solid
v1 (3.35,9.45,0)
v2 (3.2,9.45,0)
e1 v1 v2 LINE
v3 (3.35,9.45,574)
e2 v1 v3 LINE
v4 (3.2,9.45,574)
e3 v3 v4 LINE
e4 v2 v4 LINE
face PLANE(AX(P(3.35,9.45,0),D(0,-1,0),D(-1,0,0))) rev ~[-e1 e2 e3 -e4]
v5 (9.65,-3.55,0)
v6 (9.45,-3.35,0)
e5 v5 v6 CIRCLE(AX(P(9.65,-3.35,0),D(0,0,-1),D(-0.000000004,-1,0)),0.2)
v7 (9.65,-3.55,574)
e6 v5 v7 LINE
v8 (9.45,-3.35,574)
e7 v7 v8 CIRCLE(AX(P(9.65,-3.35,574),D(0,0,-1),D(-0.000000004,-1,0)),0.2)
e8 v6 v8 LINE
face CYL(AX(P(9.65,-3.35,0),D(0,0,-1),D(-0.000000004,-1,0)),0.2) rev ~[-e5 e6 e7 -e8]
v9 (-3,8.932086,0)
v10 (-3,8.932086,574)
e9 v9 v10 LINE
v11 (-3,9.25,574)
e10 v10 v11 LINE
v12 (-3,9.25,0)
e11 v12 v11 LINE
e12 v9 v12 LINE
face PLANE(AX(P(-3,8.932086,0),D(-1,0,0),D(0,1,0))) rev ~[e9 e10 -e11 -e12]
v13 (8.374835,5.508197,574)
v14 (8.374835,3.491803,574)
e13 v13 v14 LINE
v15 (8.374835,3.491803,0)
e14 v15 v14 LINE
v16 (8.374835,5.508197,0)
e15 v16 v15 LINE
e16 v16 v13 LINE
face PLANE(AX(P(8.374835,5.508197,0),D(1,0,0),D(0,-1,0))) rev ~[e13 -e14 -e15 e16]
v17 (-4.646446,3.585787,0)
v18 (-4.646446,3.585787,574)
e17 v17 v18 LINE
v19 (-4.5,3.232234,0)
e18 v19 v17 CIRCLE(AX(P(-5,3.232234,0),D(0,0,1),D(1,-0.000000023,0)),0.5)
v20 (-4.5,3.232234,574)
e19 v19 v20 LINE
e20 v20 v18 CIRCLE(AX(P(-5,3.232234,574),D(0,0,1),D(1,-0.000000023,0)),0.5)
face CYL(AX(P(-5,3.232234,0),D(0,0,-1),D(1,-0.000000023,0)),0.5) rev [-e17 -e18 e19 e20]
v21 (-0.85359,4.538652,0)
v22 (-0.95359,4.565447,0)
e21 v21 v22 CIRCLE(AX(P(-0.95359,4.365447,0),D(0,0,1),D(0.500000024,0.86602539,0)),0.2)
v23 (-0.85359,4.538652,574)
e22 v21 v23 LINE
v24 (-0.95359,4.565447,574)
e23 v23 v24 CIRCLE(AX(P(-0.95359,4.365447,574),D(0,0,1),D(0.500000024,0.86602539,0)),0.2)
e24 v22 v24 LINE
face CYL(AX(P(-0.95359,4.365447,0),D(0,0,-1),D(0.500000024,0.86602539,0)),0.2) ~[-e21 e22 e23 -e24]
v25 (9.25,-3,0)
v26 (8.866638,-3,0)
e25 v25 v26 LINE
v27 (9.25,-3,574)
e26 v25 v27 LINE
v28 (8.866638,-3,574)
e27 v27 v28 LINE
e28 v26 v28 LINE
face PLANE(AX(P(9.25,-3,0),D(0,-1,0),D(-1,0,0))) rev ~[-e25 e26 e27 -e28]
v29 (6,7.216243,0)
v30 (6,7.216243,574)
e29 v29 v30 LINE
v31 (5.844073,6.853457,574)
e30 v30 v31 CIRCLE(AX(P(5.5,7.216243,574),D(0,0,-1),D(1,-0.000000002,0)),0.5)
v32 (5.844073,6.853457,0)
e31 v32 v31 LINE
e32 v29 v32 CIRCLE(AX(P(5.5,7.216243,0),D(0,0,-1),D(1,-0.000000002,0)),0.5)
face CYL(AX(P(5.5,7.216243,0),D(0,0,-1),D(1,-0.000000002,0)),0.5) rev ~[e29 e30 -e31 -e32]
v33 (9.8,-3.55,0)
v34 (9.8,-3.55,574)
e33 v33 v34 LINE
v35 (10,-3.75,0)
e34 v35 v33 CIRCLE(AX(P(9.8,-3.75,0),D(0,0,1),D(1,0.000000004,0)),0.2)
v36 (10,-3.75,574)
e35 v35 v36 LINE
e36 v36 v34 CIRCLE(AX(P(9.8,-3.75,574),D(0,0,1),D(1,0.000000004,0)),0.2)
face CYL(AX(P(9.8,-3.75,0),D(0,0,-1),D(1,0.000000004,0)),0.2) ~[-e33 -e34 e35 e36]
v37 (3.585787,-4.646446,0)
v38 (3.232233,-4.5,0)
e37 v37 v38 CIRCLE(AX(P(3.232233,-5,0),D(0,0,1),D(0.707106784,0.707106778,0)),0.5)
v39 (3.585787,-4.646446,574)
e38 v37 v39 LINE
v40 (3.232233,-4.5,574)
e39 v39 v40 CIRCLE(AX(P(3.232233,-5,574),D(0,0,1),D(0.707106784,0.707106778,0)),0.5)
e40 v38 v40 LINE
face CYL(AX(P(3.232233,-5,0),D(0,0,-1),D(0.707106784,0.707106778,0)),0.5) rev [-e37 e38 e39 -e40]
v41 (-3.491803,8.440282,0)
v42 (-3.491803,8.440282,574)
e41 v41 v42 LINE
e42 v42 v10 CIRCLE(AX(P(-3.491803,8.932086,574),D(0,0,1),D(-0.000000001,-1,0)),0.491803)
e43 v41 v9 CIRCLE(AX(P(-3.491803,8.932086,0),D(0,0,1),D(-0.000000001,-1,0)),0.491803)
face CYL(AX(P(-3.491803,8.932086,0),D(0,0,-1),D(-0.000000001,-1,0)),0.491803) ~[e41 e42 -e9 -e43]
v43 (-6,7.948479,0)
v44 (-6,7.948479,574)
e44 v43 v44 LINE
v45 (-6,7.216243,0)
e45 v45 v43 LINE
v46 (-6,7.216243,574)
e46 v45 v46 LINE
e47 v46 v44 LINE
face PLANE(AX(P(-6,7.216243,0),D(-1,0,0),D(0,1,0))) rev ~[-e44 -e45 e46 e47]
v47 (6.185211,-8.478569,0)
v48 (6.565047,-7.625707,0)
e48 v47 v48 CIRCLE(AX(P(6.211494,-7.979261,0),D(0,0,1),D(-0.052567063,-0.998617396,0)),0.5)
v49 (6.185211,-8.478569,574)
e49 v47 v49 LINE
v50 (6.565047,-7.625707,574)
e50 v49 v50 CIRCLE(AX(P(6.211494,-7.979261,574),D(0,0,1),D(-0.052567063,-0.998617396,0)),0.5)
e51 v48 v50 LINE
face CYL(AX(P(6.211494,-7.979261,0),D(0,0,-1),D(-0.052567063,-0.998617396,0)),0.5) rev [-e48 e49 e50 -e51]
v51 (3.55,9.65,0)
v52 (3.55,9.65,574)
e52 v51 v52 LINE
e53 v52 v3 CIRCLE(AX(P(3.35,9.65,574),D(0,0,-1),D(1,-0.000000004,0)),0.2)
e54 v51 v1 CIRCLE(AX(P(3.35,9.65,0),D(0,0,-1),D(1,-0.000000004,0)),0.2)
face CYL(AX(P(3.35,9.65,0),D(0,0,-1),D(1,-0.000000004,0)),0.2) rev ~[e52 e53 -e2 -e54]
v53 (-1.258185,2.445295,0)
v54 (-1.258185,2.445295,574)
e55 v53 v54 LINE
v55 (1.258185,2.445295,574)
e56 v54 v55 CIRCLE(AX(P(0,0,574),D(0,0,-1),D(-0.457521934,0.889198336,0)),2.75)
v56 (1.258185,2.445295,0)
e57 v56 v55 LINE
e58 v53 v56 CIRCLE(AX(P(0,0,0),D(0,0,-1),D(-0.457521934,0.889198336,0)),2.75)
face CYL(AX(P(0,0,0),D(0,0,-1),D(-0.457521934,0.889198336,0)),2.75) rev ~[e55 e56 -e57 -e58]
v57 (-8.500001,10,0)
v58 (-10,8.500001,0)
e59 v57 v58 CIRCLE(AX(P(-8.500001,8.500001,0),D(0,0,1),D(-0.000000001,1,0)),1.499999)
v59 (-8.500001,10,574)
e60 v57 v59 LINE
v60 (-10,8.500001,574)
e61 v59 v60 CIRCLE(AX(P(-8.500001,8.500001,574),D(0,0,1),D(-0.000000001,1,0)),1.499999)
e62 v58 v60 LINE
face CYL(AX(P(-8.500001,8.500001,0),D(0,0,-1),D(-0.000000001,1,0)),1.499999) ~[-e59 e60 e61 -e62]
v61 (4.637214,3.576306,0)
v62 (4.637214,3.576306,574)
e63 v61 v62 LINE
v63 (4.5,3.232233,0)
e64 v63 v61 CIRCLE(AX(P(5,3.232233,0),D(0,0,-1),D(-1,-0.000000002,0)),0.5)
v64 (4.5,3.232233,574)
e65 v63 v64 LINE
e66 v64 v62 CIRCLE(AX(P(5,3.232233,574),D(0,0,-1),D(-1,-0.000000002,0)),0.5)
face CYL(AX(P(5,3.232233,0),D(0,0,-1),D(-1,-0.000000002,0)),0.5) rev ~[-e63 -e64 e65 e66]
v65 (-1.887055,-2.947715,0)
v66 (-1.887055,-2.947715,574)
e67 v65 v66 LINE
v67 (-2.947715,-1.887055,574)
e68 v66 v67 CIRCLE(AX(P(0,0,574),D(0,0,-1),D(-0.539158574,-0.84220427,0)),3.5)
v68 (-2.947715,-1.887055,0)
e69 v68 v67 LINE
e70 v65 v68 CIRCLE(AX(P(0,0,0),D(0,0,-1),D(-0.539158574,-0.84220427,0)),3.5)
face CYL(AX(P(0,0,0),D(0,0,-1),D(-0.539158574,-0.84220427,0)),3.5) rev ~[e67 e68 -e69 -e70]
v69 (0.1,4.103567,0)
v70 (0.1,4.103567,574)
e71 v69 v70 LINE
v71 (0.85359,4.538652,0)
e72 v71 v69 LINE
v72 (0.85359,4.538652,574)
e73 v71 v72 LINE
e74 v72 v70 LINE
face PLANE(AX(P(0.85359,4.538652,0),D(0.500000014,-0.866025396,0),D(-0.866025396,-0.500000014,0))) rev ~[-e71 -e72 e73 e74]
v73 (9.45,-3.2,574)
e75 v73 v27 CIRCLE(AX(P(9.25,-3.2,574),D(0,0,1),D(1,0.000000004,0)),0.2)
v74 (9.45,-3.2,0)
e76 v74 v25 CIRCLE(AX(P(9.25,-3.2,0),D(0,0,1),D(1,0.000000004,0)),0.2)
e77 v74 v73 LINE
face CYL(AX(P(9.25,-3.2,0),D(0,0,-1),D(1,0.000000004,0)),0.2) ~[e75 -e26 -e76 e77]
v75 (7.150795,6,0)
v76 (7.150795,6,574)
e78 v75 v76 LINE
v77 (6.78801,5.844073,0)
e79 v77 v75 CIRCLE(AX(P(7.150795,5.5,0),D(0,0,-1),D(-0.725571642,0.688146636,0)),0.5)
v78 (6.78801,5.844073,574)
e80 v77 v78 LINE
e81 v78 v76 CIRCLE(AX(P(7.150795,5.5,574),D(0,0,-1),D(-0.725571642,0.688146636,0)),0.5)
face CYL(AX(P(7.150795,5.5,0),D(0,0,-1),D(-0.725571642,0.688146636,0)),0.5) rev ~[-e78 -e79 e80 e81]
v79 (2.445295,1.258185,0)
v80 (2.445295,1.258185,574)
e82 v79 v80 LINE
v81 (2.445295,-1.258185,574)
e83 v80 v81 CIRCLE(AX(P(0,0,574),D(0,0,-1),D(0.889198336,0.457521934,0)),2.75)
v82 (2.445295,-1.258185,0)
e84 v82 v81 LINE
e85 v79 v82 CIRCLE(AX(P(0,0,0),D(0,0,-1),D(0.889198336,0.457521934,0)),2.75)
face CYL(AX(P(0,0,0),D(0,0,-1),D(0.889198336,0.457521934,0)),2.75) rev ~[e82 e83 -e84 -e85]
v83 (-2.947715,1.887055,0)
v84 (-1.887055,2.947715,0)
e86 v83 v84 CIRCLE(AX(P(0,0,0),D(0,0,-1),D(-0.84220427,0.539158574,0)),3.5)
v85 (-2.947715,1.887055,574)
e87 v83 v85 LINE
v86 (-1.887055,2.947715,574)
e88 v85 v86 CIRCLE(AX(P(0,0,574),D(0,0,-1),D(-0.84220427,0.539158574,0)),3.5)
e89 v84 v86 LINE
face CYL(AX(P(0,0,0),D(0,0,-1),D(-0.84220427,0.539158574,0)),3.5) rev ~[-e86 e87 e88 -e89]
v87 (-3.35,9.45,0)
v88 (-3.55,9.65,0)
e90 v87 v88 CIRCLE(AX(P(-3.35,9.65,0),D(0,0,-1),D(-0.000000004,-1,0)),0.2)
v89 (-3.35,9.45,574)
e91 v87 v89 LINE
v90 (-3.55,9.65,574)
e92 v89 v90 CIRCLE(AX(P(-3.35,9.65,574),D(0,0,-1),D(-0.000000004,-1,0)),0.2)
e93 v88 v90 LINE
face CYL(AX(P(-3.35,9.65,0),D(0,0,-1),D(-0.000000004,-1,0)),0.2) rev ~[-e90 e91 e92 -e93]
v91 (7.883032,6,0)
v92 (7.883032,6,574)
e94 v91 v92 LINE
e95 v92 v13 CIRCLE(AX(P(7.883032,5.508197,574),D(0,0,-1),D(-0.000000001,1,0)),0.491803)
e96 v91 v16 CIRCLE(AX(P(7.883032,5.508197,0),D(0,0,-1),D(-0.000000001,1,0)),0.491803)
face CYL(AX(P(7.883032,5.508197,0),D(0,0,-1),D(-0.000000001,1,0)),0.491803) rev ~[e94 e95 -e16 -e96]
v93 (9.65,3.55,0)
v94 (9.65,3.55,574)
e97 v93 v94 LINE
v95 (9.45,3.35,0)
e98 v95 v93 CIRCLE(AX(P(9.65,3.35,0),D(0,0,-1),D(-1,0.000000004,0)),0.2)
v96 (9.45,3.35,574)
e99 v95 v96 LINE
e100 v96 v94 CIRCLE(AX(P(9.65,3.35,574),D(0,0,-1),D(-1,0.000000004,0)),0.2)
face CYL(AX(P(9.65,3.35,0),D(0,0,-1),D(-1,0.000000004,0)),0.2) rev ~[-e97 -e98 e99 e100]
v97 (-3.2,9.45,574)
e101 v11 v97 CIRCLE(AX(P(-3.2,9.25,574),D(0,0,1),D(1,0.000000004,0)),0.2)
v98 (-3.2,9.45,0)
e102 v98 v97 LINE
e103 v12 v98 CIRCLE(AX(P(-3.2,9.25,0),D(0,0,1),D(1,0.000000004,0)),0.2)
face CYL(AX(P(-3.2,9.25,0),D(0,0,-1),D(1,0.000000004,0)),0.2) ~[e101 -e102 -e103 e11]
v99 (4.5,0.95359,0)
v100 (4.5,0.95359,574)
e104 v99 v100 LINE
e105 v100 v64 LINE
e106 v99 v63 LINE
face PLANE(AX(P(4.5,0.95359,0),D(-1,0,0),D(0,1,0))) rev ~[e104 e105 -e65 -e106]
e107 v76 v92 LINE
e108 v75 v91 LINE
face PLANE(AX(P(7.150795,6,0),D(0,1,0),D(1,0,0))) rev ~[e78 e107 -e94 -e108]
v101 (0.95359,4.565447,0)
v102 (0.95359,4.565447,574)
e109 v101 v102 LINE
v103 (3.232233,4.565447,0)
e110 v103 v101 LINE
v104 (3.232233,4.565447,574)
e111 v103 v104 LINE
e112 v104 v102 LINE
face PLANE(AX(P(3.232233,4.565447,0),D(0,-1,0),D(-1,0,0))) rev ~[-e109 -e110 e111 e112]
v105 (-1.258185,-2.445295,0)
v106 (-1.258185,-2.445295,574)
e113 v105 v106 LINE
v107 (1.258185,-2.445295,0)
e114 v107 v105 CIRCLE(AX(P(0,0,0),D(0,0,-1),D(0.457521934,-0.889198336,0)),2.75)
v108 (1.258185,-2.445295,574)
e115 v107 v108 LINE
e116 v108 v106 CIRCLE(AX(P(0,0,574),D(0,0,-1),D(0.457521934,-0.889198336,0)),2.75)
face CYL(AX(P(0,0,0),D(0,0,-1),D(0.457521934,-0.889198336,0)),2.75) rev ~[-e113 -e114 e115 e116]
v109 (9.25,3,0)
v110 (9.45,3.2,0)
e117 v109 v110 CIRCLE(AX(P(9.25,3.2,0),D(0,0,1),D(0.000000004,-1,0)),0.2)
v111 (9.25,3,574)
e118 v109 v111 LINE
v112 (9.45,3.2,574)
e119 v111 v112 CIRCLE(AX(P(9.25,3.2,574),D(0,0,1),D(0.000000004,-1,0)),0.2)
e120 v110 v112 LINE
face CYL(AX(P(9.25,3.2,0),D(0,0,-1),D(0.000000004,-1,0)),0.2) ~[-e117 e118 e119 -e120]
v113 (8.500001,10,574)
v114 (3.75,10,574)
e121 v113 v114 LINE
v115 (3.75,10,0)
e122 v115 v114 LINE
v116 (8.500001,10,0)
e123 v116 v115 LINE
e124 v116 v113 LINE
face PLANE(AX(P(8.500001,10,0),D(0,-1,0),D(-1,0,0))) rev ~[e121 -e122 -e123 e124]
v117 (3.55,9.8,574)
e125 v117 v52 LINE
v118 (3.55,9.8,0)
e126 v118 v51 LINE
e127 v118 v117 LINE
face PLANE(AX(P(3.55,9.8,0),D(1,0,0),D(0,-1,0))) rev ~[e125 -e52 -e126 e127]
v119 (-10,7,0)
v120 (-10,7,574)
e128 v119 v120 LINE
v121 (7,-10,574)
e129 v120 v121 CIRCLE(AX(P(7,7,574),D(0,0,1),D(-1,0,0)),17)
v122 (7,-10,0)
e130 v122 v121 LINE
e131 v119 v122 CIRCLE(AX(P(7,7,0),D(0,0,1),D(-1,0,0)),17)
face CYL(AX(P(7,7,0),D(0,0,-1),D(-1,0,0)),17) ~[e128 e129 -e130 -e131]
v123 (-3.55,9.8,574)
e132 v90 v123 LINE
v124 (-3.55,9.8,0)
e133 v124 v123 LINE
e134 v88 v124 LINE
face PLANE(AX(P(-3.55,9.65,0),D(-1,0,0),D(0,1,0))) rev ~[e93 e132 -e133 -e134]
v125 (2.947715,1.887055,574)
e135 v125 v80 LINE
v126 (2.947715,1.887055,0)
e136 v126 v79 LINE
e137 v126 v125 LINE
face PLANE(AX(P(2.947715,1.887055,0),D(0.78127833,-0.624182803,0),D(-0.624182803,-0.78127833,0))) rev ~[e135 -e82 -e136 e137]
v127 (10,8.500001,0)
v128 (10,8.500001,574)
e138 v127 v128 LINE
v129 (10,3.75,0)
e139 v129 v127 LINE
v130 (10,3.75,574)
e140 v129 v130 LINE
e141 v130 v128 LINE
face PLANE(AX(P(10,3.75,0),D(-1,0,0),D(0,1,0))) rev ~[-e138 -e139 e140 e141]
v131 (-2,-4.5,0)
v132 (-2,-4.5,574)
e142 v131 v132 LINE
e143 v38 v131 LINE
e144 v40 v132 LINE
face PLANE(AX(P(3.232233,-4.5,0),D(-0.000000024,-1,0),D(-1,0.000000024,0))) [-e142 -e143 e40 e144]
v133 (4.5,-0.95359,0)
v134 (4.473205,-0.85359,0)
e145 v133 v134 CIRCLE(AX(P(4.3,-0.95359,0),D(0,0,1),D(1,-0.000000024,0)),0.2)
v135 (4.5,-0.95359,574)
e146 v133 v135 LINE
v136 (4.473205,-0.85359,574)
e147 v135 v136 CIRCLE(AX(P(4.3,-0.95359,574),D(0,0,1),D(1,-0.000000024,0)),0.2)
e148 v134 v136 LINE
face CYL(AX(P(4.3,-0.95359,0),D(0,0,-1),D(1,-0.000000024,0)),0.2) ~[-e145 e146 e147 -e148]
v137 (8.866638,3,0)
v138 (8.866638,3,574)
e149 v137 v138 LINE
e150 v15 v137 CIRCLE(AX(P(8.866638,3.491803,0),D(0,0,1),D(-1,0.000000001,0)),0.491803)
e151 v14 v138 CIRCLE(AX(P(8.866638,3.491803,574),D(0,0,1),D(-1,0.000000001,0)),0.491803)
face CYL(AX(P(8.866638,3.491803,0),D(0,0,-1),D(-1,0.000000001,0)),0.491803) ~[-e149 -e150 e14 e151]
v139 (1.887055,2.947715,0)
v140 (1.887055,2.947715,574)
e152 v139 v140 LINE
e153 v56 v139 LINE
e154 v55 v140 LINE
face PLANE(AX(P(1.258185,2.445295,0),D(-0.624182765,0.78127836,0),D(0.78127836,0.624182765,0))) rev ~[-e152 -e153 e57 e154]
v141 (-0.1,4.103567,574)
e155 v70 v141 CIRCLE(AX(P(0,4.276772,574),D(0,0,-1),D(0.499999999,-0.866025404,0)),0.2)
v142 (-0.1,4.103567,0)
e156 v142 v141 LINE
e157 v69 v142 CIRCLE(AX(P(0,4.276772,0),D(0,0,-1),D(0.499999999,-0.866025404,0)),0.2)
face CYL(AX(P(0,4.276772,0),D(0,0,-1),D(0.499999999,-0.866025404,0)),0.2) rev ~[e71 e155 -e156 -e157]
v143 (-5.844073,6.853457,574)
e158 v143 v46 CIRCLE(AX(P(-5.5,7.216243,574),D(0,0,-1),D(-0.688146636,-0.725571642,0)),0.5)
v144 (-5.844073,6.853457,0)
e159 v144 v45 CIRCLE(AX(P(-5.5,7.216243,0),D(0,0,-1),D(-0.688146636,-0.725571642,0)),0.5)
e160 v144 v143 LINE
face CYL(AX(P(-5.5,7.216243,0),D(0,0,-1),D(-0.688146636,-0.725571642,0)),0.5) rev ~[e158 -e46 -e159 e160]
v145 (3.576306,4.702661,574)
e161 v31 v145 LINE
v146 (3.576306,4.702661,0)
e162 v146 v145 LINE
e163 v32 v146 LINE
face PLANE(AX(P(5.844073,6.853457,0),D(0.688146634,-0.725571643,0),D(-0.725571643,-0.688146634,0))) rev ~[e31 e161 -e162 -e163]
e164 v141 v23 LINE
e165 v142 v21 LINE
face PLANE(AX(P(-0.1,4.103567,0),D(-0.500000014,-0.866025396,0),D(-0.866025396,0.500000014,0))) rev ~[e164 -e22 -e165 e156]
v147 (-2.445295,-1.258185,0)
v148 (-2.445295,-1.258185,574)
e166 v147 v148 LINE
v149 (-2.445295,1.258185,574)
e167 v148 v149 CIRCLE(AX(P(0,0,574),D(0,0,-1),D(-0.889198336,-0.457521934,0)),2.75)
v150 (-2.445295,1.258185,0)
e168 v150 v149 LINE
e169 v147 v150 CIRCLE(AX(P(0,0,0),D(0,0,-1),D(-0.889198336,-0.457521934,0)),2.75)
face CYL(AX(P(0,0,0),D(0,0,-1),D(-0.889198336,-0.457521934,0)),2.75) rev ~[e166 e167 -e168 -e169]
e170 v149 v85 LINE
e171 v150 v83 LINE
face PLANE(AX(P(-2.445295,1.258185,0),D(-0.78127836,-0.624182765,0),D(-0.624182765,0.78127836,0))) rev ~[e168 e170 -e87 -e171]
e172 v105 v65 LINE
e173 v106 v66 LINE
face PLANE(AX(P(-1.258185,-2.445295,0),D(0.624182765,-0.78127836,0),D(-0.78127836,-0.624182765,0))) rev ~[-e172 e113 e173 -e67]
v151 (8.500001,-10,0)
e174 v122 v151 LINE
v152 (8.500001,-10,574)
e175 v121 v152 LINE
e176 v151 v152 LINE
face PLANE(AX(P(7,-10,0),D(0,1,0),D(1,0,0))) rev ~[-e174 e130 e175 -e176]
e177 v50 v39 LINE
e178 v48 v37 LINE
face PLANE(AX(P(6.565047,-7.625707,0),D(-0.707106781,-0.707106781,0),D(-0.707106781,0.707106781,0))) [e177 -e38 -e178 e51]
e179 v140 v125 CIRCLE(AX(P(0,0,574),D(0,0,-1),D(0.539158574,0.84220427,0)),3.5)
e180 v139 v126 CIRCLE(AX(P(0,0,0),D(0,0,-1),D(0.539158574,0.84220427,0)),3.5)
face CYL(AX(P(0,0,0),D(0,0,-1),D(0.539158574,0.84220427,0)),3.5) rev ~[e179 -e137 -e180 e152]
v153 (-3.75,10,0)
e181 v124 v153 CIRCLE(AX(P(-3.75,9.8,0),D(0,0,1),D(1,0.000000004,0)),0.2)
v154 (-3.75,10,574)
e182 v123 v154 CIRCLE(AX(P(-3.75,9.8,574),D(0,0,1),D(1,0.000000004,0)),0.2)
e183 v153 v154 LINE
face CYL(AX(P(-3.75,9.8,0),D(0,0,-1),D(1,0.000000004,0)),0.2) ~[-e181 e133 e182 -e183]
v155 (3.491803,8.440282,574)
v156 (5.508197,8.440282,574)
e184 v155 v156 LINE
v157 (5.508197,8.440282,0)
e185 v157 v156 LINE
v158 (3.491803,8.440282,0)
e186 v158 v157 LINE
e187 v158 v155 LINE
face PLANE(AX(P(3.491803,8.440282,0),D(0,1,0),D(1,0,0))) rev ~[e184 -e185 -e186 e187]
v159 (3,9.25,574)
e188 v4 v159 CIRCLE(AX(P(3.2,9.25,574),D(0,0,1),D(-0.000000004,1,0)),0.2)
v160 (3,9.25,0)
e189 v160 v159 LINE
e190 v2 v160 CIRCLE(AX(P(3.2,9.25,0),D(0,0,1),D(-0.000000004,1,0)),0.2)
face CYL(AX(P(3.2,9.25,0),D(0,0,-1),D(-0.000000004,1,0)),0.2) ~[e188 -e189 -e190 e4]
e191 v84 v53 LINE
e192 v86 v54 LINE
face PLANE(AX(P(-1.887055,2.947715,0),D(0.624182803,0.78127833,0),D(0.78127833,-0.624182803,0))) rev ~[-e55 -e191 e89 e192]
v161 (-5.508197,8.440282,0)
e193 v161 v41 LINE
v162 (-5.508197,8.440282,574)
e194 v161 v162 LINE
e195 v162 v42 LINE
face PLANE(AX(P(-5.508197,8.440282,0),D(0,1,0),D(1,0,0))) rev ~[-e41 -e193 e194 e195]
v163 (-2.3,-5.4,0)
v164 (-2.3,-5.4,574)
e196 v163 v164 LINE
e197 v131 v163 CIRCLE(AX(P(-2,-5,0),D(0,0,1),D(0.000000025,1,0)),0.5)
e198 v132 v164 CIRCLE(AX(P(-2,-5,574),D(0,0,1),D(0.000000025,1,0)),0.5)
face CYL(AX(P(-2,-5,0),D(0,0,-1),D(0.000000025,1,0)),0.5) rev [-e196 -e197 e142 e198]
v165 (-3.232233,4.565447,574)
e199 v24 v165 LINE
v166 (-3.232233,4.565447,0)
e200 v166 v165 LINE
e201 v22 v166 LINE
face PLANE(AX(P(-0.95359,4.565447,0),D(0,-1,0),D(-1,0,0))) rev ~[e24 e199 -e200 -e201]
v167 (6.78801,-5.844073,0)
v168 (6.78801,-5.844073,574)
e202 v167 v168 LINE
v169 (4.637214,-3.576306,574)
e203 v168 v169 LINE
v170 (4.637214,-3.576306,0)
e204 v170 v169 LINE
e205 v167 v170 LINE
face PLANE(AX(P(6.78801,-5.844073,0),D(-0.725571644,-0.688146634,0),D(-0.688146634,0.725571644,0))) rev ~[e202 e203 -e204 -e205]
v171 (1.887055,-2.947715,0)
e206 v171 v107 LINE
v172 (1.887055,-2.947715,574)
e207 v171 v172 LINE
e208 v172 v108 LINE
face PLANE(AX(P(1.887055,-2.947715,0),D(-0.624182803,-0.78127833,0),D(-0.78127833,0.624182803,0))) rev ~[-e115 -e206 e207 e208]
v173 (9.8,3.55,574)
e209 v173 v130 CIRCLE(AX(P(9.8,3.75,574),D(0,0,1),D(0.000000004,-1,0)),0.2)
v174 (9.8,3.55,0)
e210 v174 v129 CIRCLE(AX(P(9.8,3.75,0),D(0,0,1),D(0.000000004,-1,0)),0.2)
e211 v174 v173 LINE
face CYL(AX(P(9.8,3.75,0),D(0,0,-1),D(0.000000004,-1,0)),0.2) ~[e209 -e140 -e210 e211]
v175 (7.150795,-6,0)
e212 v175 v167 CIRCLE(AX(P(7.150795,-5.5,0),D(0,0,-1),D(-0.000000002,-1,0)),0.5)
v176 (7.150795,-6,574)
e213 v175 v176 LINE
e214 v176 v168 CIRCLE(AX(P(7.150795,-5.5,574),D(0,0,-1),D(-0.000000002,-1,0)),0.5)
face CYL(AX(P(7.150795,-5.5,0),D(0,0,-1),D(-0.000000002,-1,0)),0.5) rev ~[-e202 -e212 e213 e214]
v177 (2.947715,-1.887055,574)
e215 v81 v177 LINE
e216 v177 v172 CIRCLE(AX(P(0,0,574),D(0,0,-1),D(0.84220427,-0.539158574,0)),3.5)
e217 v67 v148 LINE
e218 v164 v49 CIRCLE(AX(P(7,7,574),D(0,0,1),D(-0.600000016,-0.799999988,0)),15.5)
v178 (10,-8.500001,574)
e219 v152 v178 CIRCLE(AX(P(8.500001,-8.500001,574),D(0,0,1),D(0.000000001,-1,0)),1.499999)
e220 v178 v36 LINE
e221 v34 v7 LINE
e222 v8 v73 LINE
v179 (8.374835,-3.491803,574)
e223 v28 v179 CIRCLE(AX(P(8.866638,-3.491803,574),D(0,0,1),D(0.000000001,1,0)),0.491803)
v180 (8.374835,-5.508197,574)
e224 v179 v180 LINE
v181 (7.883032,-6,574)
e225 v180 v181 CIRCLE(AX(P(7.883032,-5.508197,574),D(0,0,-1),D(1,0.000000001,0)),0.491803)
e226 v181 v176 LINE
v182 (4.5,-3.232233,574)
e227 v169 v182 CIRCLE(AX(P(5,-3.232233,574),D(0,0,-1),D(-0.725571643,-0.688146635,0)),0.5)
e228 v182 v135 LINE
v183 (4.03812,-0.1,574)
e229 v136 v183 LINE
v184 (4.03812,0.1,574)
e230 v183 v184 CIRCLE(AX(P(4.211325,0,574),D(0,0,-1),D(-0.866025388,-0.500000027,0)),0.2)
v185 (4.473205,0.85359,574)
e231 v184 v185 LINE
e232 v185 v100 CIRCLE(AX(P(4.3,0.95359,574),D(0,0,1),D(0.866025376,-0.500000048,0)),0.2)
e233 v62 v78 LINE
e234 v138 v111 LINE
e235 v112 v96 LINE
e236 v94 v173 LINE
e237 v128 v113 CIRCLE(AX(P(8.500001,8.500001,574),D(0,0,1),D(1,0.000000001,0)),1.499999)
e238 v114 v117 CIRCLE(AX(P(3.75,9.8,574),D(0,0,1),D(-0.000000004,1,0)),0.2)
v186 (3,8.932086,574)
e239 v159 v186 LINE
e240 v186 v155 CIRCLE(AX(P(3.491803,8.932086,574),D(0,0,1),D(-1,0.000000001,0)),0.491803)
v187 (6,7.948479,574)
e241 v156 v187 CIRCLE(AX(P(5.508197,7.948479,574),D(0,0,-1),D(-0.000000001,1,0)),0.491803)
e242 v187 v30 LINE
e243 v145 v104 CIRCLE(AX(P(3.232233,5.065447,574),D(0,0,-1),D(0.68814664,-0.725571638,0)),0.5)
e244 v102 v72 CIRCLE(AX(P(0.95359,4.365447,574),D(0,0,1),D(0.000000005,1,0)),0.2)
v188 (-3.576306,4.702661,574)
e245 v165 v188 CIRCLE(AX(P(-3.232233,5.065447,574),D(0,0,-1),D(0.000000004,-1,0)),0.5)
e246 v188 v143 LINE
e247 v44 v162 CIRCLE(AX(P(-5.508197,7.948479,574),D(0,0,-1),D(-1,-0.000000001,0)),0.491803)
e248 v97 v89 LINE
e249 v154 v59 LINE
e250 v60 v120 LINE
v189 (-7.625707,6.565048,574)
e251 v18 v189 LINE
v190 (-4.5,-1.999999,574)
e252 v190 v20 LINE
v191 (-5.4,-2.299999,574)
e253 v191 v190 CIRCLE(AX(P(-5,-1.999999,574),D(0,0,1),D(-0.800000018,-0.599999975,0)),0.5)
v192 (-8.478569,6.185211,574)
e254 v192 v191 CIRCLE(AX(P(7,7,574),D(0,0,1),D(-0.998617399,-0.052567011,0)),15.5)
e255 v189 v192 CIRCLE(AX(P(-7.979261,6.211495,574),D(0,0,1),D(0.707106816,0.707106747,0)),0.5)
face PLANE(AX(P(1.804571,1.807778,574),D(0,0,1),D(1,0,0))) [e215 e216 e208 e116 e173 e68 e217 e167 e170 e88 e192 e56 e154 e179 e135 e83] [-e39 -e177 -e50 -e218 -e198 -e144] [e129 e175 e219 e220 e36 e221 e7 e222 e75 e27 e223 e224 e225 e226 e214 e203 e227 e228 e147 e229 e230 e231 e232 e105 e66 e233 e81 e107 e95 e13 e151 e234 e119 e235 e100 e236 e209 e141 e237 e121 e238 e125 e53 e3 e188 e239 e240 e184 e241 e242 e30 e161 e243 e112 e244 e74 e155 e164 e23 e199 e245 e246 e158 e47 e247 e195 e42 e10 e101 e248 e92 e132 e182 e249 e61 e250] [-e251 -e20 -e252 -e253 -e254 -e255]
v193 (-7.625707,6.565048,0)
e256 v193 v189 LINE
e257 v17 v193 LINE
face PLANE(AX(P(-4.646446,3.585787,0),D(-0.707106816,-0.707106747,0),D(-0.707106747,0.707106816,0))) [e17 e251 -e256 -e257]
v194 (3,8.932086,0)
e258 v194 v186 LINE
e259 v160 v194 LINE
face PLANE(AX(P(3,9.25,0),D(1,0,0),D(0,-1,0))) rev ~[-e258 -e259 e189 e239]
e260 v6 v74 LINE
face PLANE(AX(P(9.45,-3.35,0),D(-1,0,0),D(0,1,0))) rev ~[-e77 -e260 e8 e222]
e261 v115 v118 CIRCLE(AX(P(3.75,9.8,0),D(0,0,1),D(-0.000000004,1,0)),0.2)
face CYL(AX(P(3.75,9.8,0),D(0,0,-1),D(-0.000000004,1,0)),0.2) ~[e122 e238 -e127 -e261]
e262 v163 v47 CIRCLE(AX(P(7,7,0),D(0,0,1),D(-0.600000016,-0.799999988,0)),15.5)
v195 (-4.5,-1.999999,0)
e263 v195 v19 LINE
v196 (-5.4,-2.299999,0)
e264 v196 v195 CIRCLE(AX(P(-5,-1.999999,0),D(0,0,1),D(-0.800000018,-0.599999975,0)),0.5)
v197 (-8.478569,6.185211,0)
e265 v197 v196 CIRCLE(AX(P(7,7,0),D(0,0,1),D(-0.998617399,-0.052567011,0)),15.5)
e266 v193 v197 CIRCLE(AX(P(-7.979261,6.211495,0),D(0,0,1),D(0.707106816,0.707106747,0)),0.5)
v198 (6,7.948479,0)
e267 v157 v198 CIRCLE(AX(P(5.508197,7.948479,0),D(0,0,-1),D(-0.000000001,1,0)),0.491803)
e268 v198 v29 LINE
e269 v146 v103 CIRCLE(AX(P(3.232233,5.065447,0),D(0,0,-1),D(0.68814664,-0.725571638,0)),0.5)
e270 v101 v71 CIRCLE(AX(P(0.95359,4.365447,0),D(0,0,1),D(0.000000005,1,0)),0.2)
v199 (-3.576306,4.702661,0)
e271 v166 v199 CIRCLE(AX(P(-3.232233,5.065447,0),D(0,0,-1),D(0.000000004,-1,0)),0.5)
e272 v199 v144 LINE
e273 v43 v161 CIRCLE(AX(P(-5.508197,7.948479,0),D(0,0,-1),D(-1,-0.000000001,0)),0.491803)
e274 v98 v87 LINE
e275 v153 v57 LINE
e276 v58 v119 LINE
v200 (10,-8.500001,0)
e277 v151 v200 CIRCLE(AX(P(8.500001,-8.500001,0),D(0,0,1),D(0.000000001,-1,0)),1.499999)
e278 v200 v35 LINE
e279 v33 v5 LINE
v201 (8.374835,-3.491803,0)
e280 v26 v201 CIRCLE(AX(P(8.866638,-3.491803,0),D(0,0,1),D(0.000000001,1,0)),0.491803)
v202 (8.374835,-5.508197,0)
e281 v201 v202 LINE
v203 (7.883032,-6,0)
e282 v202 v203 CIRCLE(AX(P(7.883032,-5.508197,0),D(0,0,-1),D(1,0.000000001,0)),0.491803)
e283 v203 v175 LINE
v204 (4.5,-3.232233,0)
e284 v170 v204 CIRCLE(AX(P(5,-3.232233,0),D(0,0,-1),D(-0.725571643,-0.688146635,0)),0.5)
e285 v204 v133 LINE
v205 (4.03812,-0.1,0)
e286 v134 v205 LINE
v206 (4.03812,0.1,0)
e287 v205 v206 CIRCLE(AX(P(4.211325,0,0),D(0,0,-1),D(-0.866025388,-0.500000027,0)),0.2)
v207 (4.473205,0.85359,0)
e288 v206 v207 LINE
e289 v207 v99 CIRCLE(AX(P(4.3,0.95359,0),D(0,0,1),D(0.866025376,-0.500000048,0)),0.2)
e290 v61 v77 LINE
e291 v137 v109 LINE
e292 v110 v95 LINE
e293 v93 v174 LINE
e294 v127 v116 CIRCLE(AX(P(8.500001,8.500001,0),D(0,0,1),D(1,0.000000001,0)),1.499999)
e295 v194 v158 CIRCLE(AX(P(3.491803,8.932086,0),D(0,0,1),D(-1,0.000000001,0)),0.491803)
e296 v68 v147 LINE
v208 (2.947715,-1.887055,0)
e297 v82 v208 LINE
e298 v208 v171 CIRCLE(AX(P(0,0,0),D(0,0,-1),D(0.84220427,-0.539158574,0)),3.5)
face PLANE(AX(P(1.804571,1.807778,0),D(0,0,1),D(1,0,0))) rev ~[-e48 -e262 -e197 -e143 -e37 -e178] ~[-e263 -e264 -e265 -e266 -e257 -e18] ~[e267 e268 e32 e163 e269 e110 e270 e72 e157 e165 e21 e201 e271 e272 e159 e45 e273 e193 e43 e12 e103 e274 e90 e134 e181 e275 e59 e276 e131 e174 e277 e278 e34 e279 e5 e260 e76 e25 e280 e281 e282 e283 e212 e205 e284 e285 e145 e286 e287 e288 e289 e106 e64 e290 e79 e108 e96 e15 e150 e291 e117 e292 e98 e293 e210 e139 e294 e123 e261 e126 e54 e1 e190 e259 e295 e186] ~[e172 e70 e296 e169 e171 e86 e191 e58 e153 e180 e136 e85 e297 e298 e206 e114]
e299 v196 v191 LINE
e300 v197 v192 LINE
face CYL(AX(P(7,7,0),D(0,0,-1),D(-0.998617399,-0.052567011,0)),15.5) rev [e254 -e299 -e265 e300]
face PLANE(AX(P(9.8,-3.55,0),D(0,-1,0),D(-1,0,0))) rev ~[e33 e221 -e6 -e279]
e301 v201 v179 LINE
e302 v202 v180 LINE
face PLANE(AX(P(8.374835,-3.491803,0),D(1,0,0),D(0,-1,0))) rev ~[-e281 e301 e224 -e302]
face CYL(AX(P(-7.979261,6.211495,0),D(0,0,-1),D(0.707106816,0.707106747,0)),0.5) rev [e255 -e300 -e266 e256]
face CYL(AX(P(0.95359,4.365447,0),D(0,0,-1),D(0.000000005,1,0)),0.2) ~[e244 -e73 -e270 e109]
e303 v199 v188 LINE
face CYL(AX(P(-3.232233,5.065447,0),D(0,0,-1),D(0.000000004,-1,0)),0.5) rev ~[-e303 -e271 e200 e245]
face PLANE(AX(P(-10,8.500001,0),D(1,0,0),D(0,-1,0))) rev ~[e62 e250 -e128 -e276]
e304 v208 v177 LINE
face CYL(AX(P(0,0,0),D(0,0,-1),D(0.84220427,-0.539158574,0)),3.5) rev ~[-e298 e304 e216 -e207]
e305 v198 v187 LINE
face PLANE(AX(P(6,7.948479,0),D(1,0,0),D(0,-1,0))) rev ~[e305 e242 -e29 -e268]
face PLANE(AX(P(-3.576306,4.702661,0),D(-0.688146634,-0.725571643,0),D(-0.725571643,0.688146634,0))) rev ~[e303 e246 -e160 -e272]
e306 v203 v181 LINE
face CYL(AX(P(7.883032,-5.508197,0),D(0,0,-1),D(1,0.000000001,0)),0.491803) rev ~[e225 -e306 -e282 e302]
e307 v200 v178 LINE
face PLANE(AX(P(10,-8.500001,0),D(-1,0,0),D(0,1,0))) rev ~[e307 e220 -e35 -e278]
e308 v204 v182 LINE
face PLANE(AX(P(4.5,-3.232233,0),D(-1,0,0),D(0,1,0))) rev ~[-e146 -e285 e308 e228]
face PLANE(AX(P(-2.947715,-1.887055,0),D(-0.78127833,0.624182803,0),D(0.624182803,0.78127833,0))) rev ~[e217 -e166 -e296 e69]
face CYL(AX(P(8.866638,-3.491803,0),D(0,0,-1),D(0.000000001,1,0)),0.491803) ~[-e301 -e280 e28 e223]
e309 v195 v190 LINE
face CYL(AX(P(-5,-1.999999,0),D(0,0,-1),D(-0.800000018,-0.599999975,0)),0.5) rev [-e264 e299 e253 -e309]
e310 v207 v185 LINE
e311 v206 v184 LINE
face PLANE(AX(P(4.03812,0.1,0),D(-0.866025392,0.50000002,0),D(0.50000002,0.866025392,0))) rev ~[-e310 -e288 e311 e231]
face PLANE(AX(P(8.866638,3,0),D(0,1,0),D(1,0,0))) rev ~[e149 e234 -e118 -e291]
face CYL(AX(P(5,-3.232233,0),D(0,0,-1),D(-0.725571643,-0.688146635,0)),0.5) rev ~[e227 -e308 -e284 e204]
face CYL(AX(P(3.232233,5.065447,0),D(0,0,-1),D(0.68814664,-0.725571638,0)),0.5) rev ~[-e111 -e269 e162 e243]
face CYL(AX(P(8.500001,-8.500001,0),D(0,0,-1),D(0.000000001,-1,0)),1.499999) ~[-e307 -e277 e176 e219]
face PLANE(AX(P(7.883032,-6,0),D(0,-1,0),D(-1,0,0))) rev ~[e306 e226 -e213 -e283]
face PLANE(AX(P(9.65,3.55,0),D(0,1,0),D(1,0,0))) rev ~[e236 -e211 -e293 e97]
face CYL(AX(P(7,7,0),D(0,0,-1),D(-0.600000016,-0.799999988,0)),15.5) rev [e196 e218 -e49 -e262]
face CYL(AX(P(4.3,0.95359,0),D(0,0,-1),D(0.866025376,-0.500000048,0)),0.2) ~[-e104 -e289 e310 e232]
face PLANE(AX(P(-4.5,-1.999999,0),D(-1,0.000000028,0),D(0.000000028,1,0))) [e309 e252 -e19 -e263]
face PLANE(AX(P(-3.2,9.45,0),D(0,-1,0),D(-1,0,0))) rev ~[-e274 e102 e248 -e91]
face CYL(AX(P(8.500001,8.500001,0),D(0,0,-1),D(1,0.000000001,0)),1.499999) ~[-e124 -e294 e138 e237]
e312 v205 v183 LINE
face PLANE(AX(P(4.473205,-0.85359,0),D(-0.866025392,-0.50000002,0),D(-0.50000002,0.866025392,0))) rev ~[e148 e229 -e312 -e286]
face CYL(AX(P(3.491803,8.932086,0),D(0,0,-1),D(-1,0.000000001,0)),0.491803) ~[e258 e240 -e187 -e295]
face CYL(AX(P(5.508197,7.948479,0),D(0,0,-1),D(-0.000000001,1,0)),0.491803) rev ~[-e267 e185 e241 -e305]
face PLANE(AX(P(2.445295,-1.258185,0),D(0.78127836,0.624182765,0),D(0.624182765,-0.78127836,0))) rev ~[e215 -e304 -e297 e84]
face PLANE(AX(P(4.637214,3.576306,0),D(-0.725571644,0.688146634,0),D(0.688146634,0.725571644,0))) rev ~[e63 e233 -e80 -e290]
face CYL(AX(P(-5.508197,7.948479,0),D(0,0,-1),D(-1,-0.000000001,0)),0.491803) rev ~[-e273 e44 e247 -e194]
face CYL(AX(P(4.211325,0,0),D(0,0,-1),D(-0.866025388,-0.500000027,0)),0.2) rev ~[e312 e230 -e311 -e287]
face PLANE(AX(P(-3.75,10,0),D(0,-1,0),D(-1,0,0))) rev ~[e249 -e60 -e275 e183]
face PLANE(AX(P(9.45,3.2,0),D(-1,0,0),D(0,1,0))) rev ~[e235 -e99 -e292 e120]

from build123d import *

# Parameters (mm, degrees)
EXTRUDE1_DEPTH = 574


with BuildPart() as part:
    # Sketch1 → Extrude1 (new body)
    with BuildSketch(Plane.XY):
        with BuildLine():
            Line((3.232233116, 4.565447254), (0.953589838, 4.565447254))
            ThreePointArc((0.953589838, 4.565447254), (0.901826028, 4.558632419), (0.853589836, 4.538652333))
            Line((0.853589836, 4.538652333), (0.100000003, 4.103567024))
            ThreePointArc((0.100000003, 4.103567024), (0, 4.076772104), (-0.100000003, 4.103567024))
            Line((-0.100000003, 4.103567024), (-0.853589836, 4.538652333))
            ThreePointArc((-0.853589836, 4.538652333), (-0.901826028, 4.558632419), (-0.953589838, 4.565447254))
            Line((-0.953589838, 4.565447254), (-3.232233116, 4.565447254))
            ThreePointArc((-3.232233116, 4.565447254), (-3.417445277, 4.601015929), (-3.576306433, 4.702661433))
            Line((-3.576306433, 4.702661433), (-5.844073317, 6.853456827))
            ThreePointArc((-5.844073317, 6.853456827), (-5.959367314, 7.018804885), (-6, 7.216242649))
            Line((-6, 7.216242649), (-6, 7.948478858))
            ThreePointArc((-6, 7.948478858), (-5.855954134, 8.296236342), (-5.50819665, 8.440282208))
            Line((-5.50819665, 8.440282208), (-3.49180335, 8.440282208))
            ThreePointArc((-3.49180335, 8.440282208), (-3.144045866, 8.584328074), (-3, 8.932085558))
            Line((-3, 8.932085558), (-3, 9.249999634))
            ThreePointArc((-3, 9.249999634), (-3.058578644, 9.39142099), (-3.2, 9.449999634))
            Line((-3.2, 9.449999634), (-3.350000366, 9.449999634))
            ThreePointArc((-3.350000366, 9.449999634), (-3.491421722, 9.508578278), (-3.550000366, 9.649999634))
            Line((-3.550000366, 9.649999634), (-3.550000366, 9.8))
            ThreePointArc((-3.550000366, 9.8), (-3.60857901, 9.941421356), (-3.750000366, 10))
            Line((-3.750000366, 10), (-8.50000115, 10))
            ThreePointArc((-8.50000115, 10), (-9.560660508, 9.560660508), (-10, 8.50000115))
            Line((-10, 8.50000115), (-10, 7))
            ThreePointArc((-10, 7), (-5.02081528, -5.02081528), (7, -10))
            Line((7, -10), (8.50000115, -10))
            ThreePointArc((8.50000115, -10), (9.560660508, -9.560660508), (10, -8.50000115))
            Line((10, -8.50000115), (10, -3.750000366))
            ThreePointArc((10, -3.750000366), (9.941421356, -3.60857901), (9.8, -3.550000366))
            Line((9.8, -3.550000366), (9.649999634, -3.550000366))
            ThreePointArc((9.649999634, -3.550000366), (9.508578278, -3.491421722), (9.449999634, -3.350000366))
            Line((9.449999634, -3.350000366), (9.449999634, -3.2))
            ThreePointArc((9.449999634, -3.2), (9.39142099, -3.058578644), (9.249999634, -3))
            Line((9.249999634, -3), (8.866638303, -3))
            ThreePointArc((8.866638303, -3), (8.518880819, -3.144045866), (8.374834953, -3.49180335))
            Line((8.374834953, -3.49180335), (8.374834953, -5.50819665))
            ThreePointArc((8.374834953, -5.50819665), (8.230789087, -5.855954134), (7.883031603, -6))
            Line((7.883031603, -6), (7.150795394, -6))
            ThreePointArc((7.150795394, -6), (6.95335763, -5.959367314), (6.788009572, -5.844073317))
            Line((6.788009572, -5.844073317), (4.637214178, -3.576306432))
            ThreePointArc((4.637214178, -3.576306432), (4.535568675, -3.417445276), (4.5, -3.232233115))
            Line((4.5, -3.232233115), (4.5, -0.953589838))
            ThreePointArc((4.5, -0.953589838), (4.493185165, -0.901826026), (4.473205078, -0.853589834))
            Line((4.473205078, -0.853589834), (4.038119764, -0.100000004))
            ThreePointArc((4.038119764, -0.100000004), (4.011324842, 0), (4.038119764, 0.100000004))
            Line((4.038119764, 0.100000004), (4.473205078, 0.853589834))
            ThreePointArc((4.473205078, 0.853589834), (4.493185165, 0.901826026), (4.5, 0.953589838))
            Line((4.5, 0.953589838), (4.5, 3.232233115))
            ThreePointArc((4.5, 3.232233115), (4.535568675, 3.417445276), (4.637214178, 3.576306432))
            Line((4.637214178, 3.576306432), (6.788009572, 5.844073317))
            ThreePointArc((6.788009572, 5.844073317), (6.95335763, 5.959367314), (7.150795394, 6))
            Line((7.150795394, 6), (7.883031603, 6))
            ThreePointArc((7.883031603, 6), (8.230789087, 5.855954134), (8.374834953, 5.50819665))
            Line((8.374834953, 5.50819665), (8.374834953, 3.49180335))
            ThreePointArc((8.374834953, 3.49180335), (8.518880819, 3.144045866), (8.866638303, 3))
            Line((8.866638303, 3), (9.249999634, 3))
            ThreePointArc((9.249999634, 3), (9.39142099, 3.058578644), (9.449999634, 3.2))
            Line((9.449999634, 3.2), (9.449999634, 3.350000366))
            ThreePointArc((9.449999634, 3.350000366), (9.508578278, 3.491421722), (9.649999634, 3.550000366))
            Line((9.649999634, 3.550000366), (9.8, 3.550000366))
            ThreePointArc((9.8, 3.550000366), (9.941421356, 3.60857901), (10, 3.750000366))
            Line((10, 3.750000366), (10, 8.50000115))
            ThreePointArc((10, 8.50000115), (9.560660508, 9.560660508), (8.50000115, 10))
            Line((8.50000115, 10), (3.750000366, 10))
            ThreePointArc((3.750000366, 10), (3.60857901, 9.941421356), (3.550000366, 9.8))
            Line((3.550000366, 9.8), (3.550000366, 9.649999634))
            ThreePointArc((3.550000366, 9.649999634), (3.491421722, 9.508578278), (3.350000366, 9.449999634))
            Line((3.350000366, 9.449999634), (3.2, 9.449999634))
            ThreePointArc((3.2, 9.449999634), (3.058578644, 9.39142099), (3, 9.249999634))
            Line((3, 9.249999634), (3, 8.932085558))
            ThreePointArc((3, 8.932085558), (3.144045866, 8.584328074), (3.49180335, 8.440282208))
            Line((3.49180335, 8.440282208), (5.50819665, 8.440282208))
            ThreePointArc((5.50819665, 8.440282208), (5.855954134, 8.296236342), (6, 7.948478858))
            Line((6, 7.948478858), (6, 7.216242649))
            ThreePointArc((6, 7.216242649), (5.959367314, 7.018804885), (5.844073317, 6.853456827))
            Line((5.844073317, 6.853456827), (3.576306433, 4.702661433))
            ThreePointArc((3.576306433, 4.702661433), (3.417445277, 4.601015929), (3.232233116, 4.565447254))
        make_face()
        with BuildLine():
            Line((1.258185436, 2.445295362), (1.887055008, 2.947714945))
            ThreePointArc((1.887055008, 2.947714945), (2.474873794, 2.474873674), (2.947715037, 1.887054865))
            Line((2.947715037, 1.887054865), (2.445295423, 1.258185317))
            ThreePointArc((2.445295423, 1.258185317), (2.75, -6.7e-08), (2.445295362, -1.258185436))
            Line((2.445295362, -1.258185436), (2.947714945, -1.887055008))
            ThreePointArc((2.947714945, -1.887055008), (2.474873674, -2.474873794), (1.887054865, -2.947715037))
            Line((1.887054865, -2.947715037), (1.258185317, -2.445295423))
            ThreePointArc((1.258185317, -2.445295423), (-6.7e-08, -2.75), (-1.258185436, -2.445295362))
            Line((-1.258185436, -2.445295362), (-1.887055008, -2.947714945))
            ThreePointArc((-1.887055008, -2.947714945), (-2.474873794, -2.474873674), (-2.947715037, -1.887054865))
            Line((-2.947715037, -1.887054865), (-2.445295423, -1.258185317))
            ThreePointArc((-2.445295423, -1.258185317), (-2.75, 6.7e-08), (-2.445295362, 1.258185436))
            Line((-2.445295362, 1.258185436), (-2.947714945, 1.887055008))
            ThreePointArc((-2.947714945, 1.887055008), (-2.474873674, 2.474873794), (-1.887054865, 2.947715037))
            Line((-1.887054865, 2.947715037), (-1.258185317, 2.445295423))
            ThreePointArc((-1.258185317, 2.445295423), (6.7e-08, 2.75), (1.258185436, 2.445295362))
        make_face(mode=Mode.SUBTRACT)
        with BuildLine():
            Line((3.232233163, -4.499999714), (-2.000000051, -4.499999587))
            ThreePointArc((-2.000000051, -4.499999587), (-2.474341709, -4.841885693), (-2.300000072, -5.399999581))
            ThreePointArc((-2.300000072, -5.399999581), (1.713541858, -7.57063318), (6.185210557, -8.478569349))
            ThreePointArc((6.185210557, -8.478569349), (6.668243282, -8.182681825), (6.565047479, -7.625707261))
            Line((6.565047479, -7.625707261), (3.585786542, -4.646446324))
            ThreePointArc((3.585786542, -4.646446324), (3.423574873, -4.53805995), (3.232233163, -4.499999714))
        make_face(mode=Mode.SUBTRACT)
        with BuildLine():
            Line((-4.646446492, 3.585787135), (-7.625707283, 6.565048217))
            ThreePointArc((-7.625707283, 6.565048217), (-8.182681843, 6.668244047), (-8.47856939, 6.185211338))
            ThreePointArc((-8.47856939, 6.185211338), (-7.570633447, 1.713542596), (-5.400000054, -2.299999441))
            ThreePointArc((-5.400000054, -2.299999441), (-4.841886176, -2.474341107), (-4.500000045, -1.999999467))
            Line((-4.500000045, -1.999999467), (-4.499999899, 3.232233748))
            ThreePointArc((-4.499999899, 3.232233748), (-4.538060126, 3.42357546), (-4.646446492, 3.585787135))
        make_face(mode=Mode.SUBTRACT)
    extrude(amount=EXTRUDE1_DEPTH)


solid = part.part
